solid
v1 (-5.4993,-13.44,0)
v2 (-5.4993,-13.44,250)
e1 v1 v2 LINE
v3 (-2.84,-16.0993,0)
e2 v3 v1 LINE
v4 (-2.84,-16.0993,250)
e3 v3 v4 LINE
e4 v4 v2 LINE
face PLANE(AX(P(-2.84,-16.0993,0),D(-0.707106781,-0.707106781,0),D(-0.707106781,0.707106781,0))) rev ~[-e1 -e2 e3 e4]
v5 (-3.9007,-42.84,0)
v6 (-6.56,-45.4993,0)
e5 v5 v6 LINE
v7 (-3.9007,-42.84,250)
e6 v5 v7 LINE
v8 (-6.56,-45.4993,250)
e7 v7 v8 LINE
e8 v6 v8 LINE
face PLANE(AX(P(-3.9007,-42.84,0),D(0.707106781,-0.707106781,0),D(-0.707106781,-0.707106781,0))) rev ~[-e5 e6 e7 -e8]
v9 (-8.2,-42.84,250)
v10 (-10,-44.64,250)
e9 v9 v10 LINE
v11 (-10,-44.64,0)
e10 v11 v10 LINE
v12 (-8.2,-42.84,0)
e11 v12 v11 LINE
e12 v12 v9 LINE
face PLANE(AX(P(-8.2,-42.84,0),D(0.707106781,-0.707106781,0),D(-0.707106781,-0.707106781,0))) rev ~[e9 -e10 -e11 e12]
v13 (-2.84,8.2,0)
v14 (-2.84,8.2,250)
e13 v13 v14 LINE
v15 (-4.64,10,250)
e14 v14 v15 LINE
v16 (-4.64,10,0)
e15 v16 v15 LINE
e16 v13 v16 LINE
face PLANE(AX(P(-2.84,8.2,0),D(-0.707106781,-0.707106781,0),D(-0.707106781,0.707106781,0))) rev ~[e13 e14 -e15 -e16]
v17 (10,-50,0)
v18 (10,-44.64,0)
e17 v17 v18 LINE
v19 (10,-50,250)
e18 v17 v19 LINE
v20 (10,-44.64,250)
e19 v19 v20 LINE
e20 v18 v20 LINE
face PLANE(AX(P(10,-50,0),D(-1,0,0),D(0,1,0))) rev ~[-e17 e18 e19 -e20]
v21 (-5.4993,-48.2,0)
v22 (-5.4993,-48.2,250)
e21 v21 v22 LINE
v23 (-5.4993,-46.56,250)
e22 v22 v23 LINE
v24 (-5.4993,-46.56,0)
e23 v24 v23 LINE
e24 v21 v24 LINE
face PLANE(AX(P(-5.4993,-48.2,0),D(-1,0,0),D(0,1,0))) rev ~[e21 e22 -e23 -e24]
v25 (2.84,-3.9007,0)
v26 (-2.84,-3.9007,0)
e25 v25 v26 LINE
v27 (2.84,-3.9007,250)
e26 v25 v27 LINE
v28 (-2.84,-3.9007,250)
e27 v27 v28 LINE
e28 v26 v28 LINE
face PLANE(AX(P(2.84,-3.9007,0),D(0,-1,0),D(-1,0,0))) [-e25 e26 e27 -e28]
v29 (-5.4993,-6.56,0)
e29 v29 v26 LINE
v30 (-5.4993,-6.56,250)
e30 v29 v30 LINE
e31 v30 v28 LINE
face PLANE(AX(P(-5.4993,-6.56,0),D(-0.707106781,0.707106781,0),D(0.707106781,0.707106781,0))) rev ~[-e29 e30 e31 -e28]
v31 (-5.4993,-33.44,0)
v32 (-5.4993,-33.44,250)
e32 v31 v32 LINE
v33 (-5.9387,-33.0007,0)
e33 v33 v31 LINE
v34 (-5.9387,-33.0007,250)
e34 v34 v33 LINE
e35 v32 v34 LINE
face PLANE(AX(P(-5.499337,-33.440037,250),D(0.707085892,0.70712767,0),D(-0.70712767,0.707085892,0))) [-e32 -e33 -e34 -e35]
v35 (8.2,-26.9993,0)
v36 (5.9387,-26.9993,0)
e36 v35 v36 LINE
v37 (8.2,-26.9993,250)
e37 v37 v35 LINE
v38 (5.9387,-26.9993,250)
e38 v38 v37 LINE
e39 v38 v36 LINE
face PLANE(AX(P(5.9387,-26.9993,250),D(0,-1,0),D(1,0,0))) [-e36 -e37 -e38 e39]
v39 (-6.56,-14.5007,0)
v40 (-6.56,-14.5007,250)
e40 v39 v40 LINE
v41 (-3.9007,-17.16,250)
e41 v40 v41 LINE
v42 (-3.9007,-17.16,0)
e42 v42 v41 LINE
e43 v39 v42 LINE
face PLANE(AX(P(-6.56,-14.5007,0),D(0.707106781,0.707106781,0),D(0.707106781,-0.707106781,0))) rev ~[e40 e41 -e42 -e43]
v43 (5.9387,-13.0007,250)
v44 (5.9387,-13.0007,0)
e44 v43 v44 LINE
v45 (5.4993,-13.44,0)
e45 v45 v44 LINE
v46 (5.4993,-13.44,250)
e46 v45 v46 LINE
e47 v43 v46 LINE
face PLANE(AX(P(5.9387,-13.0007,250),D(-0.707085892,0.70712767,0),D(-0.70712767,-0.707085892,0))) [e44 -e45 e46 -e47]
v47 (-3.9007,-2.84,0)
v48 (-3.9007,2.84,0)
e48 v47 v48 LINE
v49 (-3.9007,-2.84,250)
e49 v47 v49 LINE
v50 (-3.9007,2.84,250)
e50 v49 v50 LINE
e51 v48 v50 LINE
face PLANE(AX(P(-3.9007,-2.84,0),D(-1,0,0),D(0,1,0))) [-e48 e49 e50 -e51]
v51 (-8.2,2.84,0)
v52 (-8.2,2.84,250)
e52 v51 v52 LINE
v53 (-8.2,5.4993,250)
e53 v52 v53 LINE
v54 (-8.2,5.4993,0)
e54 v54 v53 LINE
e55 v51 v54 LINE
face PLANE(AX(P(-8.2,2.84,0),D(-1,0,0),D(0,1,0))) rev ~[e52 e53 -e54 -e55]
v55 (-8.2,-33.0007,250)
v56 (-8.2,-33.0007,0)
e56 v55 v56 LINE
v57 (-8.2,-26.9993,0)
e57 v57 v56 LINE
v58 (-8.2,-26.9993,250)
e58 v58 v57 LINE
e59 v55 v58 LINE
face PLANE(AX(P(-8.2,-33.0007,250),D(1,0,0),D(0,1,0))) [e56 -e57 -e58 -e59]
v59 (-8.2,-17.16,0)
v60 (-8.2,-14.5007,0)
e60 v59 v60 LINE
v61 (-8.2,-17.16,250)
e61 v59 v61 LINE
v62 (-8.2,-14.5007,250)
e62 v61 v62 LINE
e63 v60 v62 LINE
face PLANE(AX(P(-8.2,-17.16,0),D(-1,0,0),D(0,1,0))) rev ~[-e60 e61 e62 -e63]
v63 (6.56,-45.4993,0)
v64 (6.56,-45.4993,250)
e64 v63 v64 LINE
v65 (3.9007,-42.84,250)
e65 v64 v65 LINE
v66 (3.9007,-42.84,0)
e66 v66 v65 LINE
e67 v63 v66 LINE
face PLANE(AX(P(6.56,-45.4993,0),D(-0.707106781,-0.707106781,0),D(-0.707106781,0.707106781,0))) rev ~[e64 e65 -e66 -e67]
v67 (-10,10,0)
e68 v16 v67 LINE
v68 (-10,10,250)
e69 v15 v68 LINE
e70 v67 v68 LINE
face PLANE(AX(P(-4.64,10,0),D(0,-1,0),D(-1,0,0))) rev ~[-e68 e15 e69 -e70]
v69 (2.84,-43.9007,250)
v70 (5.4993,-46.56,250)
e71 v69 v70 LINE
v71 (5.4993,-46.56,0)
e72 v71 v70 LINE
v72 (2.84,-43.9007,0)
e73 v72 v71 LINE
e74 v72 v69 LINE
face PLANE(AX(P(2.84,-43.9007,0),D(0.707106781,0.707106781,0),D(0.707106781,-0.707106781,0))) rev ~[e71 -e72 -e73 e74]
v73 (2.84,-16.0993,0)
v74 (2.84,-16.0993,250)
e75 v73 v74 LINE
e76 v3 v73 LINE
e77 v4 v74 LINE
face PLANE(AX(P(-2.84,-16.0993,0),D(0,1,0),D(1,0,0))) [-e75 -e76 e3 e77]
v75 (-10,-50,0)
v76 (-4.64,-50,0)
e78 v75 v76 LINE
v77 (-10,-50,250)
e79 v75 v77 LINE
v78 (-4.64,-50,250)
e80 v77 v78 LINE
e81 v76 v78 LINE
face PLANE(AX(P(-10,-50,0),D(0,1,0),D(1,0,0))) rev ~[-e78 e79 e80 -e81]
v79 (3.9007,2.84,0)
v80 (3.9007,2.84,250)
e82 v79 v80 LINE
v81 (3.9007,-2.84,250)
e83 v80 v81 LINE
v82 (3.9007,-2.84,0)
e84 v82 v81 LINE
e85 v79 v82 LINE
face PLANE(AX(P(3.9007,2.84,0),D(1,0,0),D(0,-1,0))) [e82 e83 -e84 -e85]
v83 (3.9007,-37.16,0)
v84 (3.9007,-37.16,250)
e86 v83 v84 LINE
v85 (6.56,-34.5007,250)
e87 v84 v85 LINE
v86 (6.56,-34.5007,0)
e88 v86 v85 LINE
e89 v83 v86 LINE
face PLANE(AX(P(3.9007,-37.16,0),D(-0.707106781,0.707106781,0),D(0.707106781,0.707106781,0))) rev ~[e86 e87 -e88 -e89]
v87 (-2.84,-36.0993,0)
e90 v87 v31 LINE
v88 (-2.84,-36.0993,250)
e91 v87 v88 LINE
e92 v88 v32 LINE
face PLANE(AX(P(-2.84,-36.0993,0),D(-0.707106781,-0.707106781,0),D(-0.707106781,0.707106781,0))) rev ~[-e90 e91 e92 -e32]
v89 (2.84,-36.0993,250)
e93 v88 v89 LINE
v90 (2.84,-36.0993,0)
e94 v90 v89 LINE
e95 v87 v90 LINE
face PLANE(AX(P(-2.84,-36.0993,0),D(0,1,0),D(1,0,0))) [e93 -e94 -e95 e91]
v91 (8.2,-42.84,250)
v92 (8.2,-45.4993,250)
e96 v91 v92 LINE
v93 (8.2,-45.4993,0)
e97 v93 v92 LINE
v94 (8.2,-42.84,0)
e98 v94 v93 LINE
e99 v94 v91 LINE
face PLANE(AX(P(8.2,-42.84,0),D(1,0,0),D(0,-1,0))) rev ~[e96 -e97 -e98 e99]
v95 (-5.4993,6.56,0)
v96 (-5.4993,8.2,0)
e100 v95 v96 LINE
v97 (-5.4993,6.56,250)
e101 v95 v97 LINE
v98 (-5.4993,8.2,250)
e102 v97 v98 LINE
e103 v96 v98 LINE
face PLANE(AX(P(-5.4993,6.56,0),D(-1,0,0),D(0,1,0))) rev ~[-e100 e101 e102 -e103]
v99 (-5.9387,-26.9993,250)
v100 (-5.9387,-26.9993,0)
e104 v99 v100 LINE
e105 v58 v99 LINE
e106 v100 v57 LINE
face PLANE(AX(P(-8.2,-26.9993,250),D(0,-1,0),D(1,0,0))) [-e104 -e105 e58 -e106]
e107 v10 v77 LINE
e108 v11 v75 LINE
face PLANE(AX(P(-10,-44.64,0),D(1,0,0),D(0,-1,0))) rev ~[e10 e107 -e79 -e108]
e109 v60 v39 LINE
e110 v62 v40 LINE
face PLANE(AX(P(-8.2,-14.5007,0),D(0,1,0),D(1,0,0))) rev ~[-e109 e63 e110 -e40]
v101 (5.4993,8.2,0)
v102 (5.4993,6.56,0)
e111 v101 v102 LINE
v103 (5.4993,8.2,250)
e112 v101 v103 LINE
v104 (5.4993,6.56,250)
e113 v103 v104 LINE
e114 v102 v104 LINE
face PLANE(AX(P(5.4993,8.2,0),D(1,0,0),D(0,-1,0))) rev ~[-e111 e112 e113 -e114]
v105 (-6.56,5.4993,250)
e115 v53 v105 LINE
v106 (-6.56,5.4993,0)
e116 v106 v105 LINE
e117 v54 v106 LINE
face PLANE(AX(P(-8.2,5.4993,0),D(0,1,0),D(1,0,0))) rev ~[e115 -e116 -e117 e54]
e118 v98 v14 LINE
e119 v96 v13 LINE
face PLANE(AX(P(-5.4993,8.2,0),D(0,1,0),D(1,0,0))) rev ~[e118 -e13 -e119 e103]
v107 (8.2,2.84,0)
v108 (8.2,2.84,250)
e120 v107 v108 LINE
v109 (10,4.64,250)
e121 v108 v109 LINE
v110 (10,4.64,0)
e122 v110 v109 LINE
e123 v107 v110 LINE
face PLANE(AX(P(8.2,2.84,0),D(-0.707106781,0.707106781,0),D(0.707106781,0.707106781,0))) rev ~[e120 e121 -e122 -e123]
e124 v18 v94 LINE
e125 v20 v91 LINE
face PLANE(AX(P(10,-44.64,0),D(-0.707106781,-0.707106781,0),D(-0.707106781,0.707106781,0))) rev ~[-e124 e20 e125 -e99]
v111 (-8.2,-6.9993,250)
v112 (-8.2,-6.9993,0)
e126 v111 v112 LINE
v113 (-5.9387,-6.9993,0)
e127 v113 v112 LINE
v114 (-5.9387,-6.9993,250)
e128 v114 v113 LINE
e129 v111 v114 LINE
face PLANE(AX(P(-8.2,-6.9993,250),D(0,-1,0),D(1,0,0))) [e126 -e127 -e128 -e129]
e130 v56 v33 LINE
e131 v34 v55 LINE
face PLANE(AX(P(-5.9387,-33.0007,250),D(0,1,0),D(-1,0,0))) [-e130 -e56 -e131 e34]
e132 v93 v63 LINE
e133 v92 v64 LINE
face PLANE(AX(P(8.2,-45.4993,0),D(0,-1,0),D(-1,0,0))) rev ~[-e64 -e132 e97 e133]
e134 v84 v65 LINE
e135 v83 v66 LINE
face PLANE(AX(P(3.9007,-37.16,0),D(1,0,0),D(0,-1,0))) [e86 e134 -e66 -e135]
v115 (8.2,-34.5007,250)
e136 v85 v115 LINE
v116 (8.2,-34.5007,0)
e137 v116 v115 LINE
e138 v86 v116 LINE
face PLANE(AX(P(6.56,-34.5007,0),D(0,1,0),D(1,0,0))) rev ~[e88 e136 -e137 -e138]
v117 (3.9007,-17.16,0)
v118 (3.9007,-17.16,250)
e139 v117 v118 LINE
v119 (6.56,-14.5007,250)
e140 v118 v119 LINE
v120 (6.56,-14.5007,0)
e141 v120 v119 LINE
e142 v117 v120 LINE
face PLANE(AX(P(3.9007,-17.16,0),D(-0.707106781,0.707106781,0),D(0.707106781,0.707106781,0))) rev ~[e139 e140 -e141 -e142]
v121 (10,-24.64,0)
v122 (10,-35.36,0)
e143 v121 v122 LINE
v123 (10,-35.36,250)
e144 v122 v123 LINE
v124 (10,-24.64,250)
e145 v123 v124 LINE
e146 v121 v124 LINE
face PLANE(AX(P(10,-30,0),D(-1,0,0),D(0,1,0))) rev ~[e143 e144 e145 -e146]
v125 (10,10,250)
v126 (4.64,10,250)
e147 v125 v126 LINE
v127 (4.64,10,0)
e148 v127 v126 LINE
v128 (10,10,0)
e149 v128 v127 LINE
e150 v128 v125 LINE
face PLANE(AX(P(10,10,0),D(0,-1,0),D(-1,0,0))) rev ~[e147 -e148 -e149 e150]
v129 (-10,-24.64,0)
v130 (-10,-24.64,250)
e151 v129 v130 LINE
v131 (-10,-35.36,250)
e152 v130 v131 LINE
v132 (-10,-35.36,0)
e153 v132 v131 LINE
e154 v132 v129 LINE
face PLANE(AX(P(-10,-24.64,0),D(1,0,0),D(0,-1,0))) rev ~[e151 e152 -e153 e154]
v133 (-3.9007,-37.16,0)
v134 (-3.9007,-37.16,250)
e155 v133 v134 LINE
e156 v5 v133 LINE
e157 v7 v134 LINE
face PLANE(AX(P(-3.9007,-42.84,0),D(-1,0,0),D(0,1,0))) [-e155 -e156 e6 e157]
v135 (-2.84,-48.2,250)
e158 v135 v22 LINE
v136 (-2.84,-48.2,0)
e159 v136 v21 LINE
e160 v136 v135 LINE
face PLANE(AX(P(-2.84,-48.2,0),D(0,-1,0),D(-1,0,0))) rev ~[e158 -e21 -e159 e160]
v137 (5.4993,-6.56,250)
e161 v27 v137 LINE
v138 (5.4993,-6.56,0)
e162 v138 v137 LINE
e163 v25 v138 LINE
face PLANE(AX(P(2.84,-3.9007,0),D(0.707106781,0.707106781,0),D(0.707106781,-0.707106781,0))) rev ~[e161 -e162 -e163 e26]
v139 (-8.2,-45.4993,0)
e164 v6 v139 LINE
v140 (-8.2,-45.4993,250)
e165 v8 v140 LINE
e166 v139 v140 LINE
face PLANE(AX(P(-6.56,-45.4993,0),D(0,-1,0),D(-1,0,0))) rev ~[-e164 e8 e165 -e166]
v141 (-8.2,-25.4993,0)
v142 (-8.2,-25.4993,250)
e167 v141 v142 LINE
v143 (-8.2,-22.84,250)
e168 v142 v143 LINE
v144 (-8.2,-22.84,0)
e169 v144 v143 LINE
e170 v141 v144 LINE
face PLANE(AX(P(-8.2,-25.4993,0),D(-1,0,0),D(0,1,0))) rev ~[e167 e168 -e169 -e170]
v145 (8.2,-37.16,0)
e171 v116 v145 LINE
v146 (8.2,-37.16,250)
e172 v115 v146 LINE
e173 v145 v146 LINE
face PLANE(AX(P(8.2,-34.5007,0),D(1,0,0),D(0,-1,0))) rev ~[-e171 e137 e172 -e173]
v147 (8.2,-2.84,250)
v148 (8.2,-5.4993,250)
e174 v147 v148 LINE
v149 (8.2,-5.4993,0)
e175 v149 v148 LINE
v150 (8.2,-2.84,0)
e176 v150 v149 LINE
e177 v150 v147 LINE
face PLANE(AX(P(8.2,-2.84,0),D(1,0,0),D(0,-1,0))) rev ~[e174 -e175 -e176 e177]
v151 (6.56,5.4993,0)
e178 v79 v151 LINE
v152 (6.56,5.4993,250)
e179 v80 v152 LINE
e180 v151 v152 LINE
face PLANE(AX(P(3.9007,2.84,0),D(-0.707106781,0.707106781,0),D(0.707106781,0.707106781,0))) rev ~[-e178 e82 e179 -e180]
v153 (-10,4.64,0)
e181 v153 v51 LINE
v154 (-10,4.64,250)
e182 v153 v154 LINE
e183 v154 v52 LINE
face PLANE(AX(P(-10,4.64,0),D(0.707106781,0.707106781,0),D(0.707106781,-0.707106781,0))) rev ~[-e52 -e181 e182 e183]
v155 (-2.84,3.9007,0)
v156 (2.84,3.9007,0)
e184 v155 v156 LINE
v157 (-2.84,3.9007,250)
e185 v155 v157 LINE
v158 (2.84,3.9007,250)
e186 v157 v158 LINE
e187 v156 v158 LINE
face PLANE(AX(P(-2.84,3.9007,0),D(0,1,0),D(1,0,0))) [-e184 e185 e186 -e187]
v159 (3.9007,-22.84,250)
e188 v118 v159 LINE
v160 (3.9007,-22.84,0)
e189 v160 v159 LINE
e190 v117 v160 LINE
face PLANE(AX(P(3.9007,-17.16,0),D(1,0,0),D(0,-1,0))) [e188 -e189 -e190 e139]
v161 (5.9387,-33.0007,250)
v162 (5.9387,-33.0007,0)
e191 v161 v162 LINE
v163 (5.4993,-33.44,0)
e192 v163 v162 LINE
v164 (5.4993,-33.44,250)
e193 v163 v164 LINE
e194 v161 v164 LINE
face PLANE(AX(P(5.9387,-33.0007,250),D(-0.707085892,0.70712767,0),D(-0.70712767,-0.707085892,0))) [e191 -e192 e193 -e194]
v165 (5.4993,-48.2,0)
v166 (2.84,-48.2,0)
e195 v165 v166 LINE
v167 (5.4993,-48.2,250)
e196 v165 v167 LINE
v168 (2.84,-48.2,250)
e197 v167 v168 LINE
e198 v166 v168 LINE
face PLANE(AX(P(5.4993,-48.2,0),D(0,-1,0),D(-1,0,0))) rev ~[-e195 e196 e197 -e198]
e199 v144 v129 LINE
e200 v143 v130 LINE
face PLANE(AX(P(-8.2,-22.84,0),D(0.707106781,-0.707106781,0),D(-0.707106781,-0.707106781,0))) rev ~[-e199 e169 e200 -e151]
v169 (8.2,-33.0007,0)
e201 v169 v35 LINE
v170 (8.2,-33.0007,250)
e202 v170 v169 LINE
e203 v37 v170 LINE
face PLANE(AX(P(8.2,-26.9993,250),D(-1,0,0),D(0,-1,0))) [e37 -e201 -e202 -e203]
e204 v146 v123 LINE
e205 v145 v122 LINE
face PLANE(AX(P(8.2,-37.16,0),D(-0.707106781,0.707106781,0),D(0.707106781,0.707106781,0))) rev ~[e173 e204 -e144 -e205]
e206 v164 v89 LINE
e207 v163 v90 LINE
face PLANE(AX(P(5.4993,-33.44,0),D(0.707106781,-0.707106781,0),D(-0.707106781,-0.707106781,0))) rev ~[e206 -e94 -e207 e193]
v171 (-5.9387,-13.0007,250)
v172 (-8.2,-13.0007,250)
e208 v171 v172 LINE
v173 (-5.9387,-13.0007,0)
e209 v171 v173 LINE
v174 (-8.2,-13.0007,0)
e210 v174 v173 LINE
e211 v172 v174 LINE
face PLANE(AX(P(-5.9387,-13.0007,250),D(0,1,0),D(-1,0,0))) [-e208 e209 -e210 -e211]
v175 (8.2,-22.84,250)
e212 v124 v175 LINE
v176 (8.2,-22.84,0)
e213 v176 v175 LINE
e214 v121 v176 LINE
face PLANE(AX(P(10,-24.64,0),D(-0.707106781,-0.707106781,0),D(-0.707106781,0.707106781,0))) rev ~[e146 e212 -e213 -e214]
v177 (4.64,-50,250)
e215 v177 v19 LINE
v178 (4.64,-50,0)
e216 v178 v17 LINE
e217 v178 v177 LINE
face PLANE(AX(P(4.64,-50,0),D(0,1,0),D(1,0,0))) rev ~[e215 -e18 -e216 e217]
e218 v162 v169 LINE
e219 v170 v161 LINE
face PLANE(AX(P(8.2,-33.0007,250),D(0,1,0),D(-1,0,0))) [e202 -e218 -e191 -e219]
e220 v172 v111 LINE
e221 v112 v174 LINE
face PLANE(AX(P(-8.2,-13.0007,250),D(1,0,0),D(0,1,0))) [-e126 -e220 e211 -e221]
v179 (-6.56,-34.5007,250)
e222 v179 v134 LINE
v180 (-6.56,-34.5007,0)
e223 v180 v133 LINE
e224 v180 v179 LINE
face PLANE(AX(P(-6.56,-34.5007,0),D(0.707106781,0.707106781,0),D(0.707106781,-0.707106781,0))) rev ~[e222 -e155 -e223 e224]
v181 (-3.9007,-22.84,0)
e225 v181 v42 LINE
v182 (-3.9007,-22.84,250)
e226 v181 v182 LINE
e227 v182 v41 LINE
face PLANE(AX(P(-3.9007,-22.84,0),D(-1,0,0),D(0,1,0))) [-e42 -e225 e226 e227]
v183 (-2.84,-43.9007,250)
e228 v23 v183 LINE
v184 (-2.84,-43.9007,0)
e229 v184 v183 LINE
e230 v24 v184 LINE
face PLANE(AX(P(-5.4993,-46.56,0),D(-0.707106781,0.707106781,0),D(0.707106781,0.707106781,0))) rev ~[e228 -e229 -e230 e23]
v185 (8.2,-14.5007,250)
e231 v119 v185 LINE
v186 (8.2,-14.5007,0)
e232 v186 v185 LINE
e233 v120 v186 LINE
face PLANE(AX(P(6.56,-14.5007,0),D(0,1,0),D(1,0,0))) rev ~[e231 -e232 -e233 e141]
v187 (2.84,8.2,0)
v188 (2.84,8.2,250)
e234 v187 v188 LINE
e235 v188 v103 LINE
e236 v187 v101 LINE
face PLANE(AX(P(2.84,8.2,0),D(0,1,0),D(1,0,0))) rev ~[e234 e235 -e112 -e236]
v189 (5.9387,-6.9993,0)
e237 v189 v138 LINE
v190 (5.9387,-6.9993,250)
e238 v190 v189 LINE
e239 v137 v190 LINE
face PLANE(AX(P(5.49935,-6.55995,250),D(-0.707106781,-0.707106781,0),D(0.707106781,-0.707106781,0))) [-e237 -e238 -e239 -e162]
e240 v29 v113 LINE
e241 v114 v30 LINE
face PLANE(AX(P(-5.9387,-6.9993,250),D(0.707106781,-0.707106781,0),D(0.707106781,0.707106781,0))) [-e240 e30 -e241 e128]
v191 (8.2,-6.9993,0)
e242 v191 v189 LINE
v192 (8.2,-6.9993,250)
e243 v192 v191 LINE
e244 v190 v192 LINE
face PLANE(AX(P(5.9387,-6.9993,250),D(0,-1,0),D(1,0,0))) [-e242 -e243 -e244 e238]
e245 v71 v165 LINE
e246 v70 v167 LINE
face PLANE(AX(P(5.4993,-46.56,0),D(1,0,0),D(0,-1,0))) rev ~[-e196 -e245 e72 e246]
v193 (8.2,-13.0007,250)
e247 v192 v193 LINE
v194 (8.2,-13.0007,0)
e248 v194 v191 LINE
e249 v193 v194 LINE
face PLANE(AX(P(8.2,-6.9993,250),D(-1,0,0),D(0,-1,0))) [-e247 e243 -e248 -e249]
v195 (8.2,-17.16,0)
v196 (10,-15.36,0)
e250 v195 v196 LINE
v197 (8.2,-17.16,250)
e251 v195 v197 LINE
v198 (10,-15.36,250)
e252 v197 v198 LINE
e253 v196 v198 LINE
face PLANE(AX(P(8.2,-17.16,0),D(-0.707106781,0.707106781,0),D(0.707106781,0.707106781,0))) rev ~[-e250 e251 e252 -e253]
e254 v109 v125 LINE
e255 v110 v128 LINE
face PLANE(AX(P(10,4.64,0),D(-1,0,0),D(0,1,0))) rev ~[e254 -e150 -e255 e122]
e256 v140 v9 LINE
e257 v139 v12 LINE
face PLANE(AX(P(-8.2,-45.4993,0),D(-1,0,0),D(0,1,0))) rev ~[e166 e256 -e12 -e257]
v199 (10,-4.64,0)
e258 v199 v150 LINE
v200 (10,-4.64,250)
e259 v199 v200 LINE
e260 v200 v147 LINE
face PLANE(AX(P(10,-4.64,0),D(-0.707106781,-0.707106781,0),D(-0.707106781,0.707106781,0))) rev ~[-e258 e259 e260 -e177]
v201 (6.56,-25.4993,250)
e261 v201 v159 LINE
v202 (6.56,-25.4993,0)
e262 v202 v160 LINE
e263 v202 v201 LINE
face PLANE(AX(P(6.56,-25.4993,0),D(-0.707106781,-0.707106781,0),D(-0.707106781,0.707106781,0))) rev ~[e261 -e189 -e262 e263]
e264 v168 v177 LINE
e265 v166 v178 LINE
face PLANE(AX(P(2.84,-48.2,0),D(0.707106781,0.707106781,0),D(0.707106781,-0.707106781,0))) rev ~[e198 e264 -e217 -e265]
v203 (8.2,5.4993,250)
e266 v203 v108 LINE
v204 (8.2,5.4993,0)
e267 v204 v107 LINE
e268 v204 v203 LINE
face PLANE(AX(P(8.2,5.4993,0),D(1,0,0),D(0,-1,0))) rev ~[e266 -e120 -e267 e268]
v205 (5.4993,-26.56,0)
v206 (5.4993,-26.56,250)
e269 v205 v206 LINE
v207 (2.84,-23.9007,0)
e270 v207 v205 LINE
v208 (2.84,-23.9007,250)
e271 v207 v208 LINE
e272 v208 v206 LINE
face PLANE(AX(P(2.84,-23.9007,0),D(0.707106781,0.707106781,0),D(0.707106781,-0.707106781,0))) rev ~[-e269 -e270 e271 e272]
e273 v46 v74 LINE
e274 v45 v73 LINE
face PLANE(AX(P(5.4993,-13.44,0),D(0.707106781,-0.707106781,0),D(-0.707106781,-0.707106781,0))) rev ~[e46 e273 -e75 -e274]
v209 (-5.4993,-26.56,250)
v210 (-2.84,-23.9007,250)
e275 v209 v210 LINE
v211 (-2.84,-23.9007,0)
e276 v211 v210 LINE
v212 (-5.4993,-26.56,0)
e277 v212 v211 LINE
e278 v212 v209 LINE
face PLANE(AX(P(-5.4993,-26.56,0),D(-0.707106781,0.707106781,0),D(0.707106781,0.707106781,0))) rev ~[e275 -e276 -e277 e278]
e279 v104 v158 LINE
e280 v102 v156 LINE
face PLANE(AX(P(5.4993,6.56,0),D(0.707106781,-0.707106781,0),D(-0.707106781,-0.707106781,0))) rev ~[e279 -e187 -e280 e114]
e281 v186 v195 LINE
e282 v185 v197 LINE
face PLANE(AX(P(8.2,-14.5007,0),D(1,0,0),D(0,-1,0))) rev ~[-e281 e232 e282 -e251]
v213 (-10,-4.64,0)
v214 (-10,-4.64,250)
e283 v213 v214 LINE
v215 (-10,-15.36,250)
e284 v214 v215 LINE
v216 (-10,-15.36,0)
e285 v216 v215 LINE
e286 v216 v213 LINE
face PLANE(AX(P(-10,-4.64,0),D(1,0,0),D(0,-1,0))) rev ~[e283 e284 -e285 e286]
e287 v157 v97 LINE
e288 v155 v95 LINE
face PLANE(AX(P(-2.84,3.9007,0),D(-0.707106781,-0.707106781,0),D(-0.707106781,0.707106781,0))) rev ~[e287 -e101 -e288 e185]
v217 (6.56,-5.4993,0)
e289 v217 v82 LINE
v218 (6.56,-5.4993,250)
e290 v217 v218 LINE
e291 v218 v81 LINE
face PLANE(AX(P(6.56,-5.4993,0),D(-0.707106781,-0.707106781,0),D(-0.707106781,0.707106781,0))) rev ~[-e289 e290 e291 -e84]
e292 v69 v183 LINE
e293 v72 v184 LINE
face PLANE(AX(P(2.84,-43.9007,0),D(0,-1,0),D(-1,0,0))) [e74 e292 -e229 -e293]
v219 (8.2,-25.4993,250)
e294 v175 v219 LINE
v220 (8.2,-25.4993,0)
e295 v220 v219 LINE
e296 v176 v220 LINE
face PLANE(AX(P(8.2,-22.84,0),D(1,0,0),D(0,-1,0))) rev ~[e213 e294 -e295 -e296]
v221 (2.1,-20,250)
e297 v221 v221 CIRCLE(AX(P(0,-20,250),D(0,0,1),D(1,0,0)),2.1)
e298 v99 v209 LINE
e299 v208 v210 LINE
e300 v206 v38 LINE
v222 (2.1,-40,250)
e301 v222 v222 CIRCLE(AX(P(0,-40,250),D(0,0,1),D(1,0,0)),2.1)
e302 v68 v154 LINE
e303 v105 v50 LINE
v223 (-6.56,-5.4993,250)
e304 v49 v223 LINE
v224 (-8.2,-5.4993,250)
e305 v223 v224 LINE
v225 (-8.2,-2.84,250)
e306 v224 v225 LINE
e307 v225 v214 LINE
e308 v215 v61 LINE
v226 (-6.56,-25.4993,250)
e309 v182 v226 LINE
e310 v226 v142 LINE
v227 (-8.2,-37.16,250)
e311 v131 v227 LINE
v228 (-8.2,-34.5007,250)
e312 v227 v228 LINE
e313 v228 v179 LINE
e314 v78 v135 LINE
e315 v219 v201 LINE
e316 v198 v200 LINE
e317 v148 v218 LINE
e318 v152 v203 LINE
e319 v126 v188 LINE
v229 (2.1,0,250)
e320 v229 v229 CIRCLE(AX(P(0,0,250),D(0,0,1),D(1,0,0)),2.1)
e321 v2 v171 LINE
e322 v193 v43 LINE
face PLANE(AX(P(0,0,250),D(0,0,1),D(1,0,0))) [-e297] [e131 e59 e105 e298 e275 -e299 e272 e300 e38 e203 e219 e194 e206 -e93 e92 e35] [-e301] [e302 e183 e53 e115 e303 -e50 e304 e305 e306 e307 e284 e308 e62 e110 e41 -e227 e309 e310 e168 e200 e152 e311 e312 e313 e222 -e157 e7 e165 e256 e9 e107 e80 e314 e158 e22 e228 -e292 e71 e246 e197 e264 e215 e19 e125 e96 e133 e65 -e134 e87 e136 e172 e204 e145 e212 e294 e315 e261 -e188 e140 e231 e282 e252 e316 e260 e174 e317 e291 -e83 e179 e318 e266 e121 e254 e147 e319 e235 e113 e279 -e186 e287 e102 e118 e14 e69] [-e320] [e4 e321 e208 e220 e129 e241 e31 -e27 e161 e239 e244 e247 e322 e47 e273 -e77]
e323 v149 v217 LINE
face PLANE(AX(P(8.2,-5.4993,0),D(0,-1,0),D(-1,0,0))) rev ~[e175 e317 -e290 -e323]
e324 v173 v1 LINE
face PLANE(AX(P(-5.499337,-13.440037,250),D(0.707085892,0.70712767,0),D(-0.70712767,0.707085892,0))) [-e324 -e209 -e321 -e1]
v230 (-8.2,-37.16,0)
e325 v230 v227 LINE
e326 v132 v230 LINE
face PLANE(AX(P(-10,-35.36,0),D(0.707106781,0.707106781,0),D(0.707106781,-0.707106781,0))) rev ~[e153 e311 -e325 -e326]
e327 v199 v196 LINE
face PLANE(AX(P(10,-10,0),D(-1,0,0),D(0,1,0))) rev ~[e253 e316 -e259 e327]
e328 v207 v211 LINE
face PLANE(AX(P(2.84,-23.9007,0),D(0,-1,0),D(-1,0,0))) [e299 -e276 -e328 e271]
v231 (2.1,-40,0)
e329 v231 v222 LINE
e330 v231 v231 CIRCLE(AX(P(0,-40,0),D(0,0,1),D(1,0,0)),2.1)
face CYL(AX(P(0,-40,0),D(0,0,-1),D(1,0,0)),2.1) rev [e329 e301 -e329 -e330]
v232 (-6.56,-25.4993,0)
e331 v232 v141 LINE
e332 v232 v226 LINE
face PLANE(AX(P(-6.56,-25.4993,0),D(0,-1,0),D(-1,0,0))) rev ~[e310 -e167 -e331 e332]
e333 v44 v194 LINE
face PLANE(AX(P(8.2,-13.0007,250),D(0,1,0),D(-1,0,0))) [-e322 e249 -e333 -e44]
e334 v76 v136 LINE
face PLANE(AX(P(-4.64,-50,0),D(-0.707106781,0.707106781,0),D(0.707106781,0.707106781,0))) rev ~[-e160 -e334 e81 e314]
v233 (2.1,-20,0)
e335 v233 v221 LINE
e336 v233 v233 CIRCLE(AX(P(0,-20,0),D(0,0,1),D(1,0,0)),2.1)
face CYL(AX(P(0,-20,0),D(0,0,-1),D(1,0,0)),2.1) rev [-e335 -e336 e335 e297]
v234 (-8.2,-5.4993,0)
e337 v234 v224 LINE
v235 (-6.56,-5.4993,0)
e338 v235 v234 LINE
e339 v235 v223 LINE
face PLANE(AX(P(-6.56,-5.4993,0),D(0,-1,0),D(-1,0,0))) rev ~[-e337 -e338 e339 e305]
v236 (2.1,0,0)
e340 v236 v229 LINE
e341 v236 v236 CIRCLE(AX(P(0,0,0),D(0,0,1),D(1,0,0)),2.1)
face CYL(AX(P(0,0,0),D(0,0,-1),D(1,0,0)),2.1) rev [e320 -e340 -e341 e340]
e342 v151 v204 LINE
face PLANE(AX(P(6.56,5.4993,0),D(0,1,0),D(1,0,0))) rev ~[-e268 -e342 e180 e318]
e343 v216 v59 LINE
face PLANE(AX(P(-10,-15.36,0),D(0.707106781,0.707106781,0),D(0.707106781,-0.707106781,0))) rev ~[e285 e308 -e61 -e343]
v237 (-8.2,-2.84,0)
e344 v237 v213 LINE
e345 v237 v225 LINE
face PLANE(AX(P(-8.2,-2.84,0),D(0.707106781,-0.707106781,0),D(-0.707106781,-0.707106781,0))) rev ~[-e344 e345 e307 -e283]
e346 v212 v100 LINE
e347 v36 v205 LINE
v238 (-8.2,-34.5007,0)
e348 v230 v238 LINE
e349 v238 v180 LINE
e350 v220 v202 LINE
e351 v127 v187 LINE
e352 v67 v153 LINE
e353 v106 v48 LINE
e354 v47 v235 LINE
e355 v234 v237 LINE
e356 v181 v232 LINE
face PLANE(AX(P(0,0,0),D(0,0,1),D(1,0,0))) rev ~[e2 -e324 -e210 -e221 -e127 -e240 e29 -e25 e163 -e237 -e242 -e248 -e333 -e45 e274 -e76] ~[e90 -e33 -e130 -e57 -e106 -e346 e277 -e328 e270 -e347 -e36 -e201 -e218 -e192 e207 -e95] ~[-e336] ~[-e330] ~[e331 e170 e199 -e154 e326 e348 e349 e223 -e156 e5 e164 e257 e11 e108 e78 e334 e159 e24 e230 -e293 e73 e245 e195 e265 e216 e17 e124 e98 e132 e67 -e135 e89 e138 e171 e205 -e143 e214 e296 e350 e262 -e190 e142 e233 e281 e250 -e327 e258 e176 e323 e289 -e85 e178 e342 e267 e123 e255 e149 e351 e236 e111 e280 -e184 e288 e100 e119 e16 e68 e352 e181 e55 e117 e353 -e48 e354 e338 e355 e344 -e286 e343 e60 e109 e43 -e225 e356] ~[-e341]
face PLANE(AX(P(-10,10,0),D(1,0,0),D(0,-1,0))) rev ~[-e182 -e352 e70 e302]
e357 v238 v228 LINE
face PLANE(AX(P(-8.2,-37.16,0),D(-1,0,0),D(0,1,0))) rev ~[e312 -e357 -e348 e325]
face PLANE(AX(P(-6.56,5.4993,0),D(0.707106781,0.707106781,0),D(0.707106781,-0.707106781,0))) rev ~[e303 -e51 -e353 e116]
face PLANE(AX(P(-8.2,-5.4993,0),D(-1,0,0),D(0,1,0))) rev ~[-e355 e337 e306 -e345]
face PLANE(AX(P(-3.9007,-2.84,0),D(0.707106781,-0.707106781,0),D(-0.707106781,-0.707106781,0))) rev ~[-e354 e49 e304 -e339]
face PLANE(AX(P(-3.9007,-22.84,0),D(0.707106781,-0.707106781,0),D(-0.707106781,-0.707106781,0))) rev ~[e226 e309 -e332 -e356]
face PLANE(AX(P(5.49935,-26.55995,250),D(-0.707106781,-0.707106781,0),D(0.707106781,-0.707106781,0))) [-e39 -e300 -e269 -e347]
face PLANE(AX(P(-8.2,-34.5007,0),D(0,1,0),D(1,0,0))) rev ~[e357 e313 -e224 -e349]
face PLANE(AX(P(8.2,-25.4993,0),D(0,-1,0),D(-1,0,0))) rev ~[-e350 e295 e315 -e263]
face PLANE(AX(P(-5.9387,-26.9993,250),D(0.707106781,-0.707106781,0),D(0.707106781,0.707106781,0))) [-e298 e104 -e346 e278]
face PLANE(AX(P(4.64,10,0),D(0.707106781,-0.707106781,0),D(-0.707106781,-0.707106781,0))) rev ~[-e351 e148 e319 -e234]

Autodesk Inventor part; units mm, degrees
ref_plane "YZ Plane" through (0, 0, 0) normal (1, 0, 0) x (0, 1, 0)
ref_plane "XZ Plane" through (0, 0, 0) normal (0, 1, 0) x (-1, 0, 0)
ref_plane "XY Plane" through (0, 0, 0) normal (0, 0, 1) x (1, 0, 0)
sketch "Sketch1" plane through (0, 0, 0) normal (0, 0, 1) x (1, 0, 0)
  line L0 (-3.9007, 3.9007) -> (3.9007, 3.9007)
  line L1 (3.9007, 3.9007) -> (3.9007, -3.9007)
  line L2 (3.9007, -3.9007) -> (-3.9007, -3.9007)
  line L3 (-3.9007, -3.9007) -> (-3.9007, 3.9007)
  line L4 (0, 3.9007) -> (0, -3.9007) construction
  line L5 (-3.9007, 0) -> (3.9007, 0) construction
  circle A0 centre (0, 0) radius 2.1
  line L6 (0, 0) -> (-16.1173, 16.1173) construction
  line L7 (0, 0) -> (22.7933, 0) construction
  line L8 (-2.84, 3.9007) -> (-5.4993, 6.56)
  line L9 (-5.4993, 6.56) -> (-5.4993, 8.2)
  line L10 (-5.4993, 8.2) -> (-2.84, 8.2)
  line L11 (-2.84, 8.2) -> (-4.64, 10)
  line L12 (-4.64, 10) -> (-10, 10)
  line L13 (-10, 10) -> (-10, 4.64)
  line L14 (-10, 4.64) -> (-8.2, 2.84)
  line L15 (-8.2, 2.84) -> (-8.2, 5.4993)
  line L16 (-8.2, 5.4993) -> (-6.56, 5.4993)
  line L17 (-6.56, 5.4993) -> (-3.9007, 2.84)
  line L18 (-3.9007, 2.84) -> (-11.3102, 2.84) construction
  line L19 (-2.84, 3.9007) -> (-3.9007, 3.9007)
  line L20 (-3.9007, 2.84) -> (-3.9007, 3.9007)
  line L21 (-3.9007, -2.84) -> (-6.56, -5.4993)
  line L22 (-6.56, -5.4993) -> (-8.2, -5.4993)
  line L23 (-8.2, -5.4993) -> (-8.2, -2.84)
  line L24 (-8.2, -2.84) -> (-10, -4.64)
  line L25 (-10, -4.64) -> (-10, -10)
  line L26 (-10, -10) -> (-4.64, -10)
  line L27 (-4.64, -10) -> (-2.84, -8.2)
  line L28 (-2.84, -8.2) -> (-5.4993, -8.2)
  line L29 (-5.4993, -8.2) -> (-5.4993, -6.56)
  line L30 (-5.4993, -6.56) -> (-2.84, -3.9007)
  line L31 (-3.9007, -2.84) -> (-3.9007, -3.9007)
  line L32 (-2.84, -3.9007) -> (-3.9007, -3.9007)
  line L33 (2.84, -3.9007) -> (5.4993, -6.56)
  line L34 (5.4993, -6.56) -> (5.4993, -8.2)
  line L35 (5.4993, -8.2) -> (2.84, -8.2)
  line L36 (2.84, -8.2) -> (4.64, -10)
  line L37 (4.64, -10) -> (10, -10)
  line L38 (10, -10) -> (10, -4.64)
  line L39 (10, -4.64) -> (8.2, -2.84)
  line L40 (8.2, -2.84) -> (8.2, -5.4993)
  line L41 (8.2, -5.4993) -> (6.56, -5.4993)
  line L42 (6.56, -5.4993) -> (3.9007, -2.84)
  line L43 (2.84, -3.9007) -> (3.9007, -3.9007)
  line L44 (3.9007, -2.84) -> (3.9007, -3.9007)
  line L45 (3.9007, 2.84) -> (6.56, 5.4993)
  line L46 (6.56, 5.4993) -> (8.2, 5.4993)
  line L47 (8.2, 5.4993) -> (8.2, 2.84)
  line L48 (8.2, 2.84) -> (10, 4.64)
  line L49 (10, 4.64) -> (10, 10)
  line L50 (10, 10) -> (4.64, 10)
  line L51 (4.64, 10) -> (2.84, 8.2)
  line L52 (2.84, 8.2) -> (5.4993, 8.2)
  line L53 (5.4993, 8.2) -> (5.4993, 6.56)
  line L54 (5.4993, 6.56) -> (2.84, 3.9007)
  line L55 (3.9007, 2.84) -> (3.9007, 3.9007)
  line L56 (2.84, 3.9007) -> (3.9007, 3.9007)
  dimension "d7" = 4.2
  dimension "d8" = 135
  dimension "d9" = 1.5
  dimension "d10" = 1.64
  dimension "d11" = 1.8
  dimension "d12" = 2.84
  dimension "d13" = 10
  dimension "d16" = 360
extrude "Extrusion1" add sketch "Sketch1" along normal blind 250
pattern_linear "Rectangular Pattern1" count 3 spacing 20 along (0, -1, 0) of "Extrusion1"
sketch "Sketch2" plane through (0, 0, 250) normal (0, 0, 1) x (1, 0, 0)
  line L0 (8.2, -2.84) -> (8.2, -5.4993) projected
  line L1 (8.2, -5.4993) -> (6.56, -5.4993) projected
  line L2 (-6.56, -5.4993) -> (-8.2, -5.4993) projected
  line L3 (-8.2, -5.4993) -> (-8.2, -2.84) projected
  line L4 (-8.2, -14.5007) -> (-6.56, -14.5007) projected
  line L5 (6.56, -14.5007) -> (8.2, -14.5007) projected
  line L6 (5.4993, -11.8) -> (5.4993, -13.44) projected
  line L7 (5.4993, -13.44) -> (2.84, -16.0993) projected
  line L8 (-2.84, -16.0993) -> (-5.4993, -13.44) projected
  line L9 (-5.4993, -8.2) -> (-5.4993, -6.56) projected
  line L10 (-5.4993, -6.56) -> (-2.84, -3.9007) projected
  line L11 (2.84, -3.9007) -> (5.4993, -6.56) projected
  line L12 (2.84, -8.2) -> (4.64, -10) projected
  line L13 (-8.2, -6.9993) -> (-5.9387, -6.9993)
  line L14 (-5.9387, -6.9993) -> (-4.1231, -5.1837)
  line L15 (-4.1231, -5.1837) -> (4.1231, -5.1837)
  line L16 (4.1231, -5.1837) -> (5.9387, -6.9993)
  line L17 (5.9387, -6.9993) -> (8.2, -6.9993)
  line L18 (8.2, -6.9993) -> (8.2, -13.0007)
  line L19 (8.2, -13.0007) -> (5.9387, -13.0007)
  line L20 (5.9387, -13.0007) -> (4.2461, -14.6932)
  line L21 (4.2461, -14.6932) -> (-4.2461, -14.6932)
  line L22 (-4.2461, -14.6932) -> (-5.9387, -13.0007)
  line L23 (-5.9387, -13.0007) -> (-8.2, -13.0007)
  line L24 (-8.2, -13.0007) -> (-8.2, -6.9993)
  dimension "d23" = 1.5
  dimension "d24" = 1.5
  dimension "d25" = 1.5
  dimension "d26" = 1.5
extrude "Extrusion2" cut sketch "Sketch2" against normal up to next
pattern_linear "Rectangular Pattern2" count 2 spacing 20 along (0, -1, 0) of "Extrusion2"
equation "\"d24\" = d23"
equation "\"d25\" = d23"
equation "\"d26\" = d23"
properties part number "20x60x250mm"
